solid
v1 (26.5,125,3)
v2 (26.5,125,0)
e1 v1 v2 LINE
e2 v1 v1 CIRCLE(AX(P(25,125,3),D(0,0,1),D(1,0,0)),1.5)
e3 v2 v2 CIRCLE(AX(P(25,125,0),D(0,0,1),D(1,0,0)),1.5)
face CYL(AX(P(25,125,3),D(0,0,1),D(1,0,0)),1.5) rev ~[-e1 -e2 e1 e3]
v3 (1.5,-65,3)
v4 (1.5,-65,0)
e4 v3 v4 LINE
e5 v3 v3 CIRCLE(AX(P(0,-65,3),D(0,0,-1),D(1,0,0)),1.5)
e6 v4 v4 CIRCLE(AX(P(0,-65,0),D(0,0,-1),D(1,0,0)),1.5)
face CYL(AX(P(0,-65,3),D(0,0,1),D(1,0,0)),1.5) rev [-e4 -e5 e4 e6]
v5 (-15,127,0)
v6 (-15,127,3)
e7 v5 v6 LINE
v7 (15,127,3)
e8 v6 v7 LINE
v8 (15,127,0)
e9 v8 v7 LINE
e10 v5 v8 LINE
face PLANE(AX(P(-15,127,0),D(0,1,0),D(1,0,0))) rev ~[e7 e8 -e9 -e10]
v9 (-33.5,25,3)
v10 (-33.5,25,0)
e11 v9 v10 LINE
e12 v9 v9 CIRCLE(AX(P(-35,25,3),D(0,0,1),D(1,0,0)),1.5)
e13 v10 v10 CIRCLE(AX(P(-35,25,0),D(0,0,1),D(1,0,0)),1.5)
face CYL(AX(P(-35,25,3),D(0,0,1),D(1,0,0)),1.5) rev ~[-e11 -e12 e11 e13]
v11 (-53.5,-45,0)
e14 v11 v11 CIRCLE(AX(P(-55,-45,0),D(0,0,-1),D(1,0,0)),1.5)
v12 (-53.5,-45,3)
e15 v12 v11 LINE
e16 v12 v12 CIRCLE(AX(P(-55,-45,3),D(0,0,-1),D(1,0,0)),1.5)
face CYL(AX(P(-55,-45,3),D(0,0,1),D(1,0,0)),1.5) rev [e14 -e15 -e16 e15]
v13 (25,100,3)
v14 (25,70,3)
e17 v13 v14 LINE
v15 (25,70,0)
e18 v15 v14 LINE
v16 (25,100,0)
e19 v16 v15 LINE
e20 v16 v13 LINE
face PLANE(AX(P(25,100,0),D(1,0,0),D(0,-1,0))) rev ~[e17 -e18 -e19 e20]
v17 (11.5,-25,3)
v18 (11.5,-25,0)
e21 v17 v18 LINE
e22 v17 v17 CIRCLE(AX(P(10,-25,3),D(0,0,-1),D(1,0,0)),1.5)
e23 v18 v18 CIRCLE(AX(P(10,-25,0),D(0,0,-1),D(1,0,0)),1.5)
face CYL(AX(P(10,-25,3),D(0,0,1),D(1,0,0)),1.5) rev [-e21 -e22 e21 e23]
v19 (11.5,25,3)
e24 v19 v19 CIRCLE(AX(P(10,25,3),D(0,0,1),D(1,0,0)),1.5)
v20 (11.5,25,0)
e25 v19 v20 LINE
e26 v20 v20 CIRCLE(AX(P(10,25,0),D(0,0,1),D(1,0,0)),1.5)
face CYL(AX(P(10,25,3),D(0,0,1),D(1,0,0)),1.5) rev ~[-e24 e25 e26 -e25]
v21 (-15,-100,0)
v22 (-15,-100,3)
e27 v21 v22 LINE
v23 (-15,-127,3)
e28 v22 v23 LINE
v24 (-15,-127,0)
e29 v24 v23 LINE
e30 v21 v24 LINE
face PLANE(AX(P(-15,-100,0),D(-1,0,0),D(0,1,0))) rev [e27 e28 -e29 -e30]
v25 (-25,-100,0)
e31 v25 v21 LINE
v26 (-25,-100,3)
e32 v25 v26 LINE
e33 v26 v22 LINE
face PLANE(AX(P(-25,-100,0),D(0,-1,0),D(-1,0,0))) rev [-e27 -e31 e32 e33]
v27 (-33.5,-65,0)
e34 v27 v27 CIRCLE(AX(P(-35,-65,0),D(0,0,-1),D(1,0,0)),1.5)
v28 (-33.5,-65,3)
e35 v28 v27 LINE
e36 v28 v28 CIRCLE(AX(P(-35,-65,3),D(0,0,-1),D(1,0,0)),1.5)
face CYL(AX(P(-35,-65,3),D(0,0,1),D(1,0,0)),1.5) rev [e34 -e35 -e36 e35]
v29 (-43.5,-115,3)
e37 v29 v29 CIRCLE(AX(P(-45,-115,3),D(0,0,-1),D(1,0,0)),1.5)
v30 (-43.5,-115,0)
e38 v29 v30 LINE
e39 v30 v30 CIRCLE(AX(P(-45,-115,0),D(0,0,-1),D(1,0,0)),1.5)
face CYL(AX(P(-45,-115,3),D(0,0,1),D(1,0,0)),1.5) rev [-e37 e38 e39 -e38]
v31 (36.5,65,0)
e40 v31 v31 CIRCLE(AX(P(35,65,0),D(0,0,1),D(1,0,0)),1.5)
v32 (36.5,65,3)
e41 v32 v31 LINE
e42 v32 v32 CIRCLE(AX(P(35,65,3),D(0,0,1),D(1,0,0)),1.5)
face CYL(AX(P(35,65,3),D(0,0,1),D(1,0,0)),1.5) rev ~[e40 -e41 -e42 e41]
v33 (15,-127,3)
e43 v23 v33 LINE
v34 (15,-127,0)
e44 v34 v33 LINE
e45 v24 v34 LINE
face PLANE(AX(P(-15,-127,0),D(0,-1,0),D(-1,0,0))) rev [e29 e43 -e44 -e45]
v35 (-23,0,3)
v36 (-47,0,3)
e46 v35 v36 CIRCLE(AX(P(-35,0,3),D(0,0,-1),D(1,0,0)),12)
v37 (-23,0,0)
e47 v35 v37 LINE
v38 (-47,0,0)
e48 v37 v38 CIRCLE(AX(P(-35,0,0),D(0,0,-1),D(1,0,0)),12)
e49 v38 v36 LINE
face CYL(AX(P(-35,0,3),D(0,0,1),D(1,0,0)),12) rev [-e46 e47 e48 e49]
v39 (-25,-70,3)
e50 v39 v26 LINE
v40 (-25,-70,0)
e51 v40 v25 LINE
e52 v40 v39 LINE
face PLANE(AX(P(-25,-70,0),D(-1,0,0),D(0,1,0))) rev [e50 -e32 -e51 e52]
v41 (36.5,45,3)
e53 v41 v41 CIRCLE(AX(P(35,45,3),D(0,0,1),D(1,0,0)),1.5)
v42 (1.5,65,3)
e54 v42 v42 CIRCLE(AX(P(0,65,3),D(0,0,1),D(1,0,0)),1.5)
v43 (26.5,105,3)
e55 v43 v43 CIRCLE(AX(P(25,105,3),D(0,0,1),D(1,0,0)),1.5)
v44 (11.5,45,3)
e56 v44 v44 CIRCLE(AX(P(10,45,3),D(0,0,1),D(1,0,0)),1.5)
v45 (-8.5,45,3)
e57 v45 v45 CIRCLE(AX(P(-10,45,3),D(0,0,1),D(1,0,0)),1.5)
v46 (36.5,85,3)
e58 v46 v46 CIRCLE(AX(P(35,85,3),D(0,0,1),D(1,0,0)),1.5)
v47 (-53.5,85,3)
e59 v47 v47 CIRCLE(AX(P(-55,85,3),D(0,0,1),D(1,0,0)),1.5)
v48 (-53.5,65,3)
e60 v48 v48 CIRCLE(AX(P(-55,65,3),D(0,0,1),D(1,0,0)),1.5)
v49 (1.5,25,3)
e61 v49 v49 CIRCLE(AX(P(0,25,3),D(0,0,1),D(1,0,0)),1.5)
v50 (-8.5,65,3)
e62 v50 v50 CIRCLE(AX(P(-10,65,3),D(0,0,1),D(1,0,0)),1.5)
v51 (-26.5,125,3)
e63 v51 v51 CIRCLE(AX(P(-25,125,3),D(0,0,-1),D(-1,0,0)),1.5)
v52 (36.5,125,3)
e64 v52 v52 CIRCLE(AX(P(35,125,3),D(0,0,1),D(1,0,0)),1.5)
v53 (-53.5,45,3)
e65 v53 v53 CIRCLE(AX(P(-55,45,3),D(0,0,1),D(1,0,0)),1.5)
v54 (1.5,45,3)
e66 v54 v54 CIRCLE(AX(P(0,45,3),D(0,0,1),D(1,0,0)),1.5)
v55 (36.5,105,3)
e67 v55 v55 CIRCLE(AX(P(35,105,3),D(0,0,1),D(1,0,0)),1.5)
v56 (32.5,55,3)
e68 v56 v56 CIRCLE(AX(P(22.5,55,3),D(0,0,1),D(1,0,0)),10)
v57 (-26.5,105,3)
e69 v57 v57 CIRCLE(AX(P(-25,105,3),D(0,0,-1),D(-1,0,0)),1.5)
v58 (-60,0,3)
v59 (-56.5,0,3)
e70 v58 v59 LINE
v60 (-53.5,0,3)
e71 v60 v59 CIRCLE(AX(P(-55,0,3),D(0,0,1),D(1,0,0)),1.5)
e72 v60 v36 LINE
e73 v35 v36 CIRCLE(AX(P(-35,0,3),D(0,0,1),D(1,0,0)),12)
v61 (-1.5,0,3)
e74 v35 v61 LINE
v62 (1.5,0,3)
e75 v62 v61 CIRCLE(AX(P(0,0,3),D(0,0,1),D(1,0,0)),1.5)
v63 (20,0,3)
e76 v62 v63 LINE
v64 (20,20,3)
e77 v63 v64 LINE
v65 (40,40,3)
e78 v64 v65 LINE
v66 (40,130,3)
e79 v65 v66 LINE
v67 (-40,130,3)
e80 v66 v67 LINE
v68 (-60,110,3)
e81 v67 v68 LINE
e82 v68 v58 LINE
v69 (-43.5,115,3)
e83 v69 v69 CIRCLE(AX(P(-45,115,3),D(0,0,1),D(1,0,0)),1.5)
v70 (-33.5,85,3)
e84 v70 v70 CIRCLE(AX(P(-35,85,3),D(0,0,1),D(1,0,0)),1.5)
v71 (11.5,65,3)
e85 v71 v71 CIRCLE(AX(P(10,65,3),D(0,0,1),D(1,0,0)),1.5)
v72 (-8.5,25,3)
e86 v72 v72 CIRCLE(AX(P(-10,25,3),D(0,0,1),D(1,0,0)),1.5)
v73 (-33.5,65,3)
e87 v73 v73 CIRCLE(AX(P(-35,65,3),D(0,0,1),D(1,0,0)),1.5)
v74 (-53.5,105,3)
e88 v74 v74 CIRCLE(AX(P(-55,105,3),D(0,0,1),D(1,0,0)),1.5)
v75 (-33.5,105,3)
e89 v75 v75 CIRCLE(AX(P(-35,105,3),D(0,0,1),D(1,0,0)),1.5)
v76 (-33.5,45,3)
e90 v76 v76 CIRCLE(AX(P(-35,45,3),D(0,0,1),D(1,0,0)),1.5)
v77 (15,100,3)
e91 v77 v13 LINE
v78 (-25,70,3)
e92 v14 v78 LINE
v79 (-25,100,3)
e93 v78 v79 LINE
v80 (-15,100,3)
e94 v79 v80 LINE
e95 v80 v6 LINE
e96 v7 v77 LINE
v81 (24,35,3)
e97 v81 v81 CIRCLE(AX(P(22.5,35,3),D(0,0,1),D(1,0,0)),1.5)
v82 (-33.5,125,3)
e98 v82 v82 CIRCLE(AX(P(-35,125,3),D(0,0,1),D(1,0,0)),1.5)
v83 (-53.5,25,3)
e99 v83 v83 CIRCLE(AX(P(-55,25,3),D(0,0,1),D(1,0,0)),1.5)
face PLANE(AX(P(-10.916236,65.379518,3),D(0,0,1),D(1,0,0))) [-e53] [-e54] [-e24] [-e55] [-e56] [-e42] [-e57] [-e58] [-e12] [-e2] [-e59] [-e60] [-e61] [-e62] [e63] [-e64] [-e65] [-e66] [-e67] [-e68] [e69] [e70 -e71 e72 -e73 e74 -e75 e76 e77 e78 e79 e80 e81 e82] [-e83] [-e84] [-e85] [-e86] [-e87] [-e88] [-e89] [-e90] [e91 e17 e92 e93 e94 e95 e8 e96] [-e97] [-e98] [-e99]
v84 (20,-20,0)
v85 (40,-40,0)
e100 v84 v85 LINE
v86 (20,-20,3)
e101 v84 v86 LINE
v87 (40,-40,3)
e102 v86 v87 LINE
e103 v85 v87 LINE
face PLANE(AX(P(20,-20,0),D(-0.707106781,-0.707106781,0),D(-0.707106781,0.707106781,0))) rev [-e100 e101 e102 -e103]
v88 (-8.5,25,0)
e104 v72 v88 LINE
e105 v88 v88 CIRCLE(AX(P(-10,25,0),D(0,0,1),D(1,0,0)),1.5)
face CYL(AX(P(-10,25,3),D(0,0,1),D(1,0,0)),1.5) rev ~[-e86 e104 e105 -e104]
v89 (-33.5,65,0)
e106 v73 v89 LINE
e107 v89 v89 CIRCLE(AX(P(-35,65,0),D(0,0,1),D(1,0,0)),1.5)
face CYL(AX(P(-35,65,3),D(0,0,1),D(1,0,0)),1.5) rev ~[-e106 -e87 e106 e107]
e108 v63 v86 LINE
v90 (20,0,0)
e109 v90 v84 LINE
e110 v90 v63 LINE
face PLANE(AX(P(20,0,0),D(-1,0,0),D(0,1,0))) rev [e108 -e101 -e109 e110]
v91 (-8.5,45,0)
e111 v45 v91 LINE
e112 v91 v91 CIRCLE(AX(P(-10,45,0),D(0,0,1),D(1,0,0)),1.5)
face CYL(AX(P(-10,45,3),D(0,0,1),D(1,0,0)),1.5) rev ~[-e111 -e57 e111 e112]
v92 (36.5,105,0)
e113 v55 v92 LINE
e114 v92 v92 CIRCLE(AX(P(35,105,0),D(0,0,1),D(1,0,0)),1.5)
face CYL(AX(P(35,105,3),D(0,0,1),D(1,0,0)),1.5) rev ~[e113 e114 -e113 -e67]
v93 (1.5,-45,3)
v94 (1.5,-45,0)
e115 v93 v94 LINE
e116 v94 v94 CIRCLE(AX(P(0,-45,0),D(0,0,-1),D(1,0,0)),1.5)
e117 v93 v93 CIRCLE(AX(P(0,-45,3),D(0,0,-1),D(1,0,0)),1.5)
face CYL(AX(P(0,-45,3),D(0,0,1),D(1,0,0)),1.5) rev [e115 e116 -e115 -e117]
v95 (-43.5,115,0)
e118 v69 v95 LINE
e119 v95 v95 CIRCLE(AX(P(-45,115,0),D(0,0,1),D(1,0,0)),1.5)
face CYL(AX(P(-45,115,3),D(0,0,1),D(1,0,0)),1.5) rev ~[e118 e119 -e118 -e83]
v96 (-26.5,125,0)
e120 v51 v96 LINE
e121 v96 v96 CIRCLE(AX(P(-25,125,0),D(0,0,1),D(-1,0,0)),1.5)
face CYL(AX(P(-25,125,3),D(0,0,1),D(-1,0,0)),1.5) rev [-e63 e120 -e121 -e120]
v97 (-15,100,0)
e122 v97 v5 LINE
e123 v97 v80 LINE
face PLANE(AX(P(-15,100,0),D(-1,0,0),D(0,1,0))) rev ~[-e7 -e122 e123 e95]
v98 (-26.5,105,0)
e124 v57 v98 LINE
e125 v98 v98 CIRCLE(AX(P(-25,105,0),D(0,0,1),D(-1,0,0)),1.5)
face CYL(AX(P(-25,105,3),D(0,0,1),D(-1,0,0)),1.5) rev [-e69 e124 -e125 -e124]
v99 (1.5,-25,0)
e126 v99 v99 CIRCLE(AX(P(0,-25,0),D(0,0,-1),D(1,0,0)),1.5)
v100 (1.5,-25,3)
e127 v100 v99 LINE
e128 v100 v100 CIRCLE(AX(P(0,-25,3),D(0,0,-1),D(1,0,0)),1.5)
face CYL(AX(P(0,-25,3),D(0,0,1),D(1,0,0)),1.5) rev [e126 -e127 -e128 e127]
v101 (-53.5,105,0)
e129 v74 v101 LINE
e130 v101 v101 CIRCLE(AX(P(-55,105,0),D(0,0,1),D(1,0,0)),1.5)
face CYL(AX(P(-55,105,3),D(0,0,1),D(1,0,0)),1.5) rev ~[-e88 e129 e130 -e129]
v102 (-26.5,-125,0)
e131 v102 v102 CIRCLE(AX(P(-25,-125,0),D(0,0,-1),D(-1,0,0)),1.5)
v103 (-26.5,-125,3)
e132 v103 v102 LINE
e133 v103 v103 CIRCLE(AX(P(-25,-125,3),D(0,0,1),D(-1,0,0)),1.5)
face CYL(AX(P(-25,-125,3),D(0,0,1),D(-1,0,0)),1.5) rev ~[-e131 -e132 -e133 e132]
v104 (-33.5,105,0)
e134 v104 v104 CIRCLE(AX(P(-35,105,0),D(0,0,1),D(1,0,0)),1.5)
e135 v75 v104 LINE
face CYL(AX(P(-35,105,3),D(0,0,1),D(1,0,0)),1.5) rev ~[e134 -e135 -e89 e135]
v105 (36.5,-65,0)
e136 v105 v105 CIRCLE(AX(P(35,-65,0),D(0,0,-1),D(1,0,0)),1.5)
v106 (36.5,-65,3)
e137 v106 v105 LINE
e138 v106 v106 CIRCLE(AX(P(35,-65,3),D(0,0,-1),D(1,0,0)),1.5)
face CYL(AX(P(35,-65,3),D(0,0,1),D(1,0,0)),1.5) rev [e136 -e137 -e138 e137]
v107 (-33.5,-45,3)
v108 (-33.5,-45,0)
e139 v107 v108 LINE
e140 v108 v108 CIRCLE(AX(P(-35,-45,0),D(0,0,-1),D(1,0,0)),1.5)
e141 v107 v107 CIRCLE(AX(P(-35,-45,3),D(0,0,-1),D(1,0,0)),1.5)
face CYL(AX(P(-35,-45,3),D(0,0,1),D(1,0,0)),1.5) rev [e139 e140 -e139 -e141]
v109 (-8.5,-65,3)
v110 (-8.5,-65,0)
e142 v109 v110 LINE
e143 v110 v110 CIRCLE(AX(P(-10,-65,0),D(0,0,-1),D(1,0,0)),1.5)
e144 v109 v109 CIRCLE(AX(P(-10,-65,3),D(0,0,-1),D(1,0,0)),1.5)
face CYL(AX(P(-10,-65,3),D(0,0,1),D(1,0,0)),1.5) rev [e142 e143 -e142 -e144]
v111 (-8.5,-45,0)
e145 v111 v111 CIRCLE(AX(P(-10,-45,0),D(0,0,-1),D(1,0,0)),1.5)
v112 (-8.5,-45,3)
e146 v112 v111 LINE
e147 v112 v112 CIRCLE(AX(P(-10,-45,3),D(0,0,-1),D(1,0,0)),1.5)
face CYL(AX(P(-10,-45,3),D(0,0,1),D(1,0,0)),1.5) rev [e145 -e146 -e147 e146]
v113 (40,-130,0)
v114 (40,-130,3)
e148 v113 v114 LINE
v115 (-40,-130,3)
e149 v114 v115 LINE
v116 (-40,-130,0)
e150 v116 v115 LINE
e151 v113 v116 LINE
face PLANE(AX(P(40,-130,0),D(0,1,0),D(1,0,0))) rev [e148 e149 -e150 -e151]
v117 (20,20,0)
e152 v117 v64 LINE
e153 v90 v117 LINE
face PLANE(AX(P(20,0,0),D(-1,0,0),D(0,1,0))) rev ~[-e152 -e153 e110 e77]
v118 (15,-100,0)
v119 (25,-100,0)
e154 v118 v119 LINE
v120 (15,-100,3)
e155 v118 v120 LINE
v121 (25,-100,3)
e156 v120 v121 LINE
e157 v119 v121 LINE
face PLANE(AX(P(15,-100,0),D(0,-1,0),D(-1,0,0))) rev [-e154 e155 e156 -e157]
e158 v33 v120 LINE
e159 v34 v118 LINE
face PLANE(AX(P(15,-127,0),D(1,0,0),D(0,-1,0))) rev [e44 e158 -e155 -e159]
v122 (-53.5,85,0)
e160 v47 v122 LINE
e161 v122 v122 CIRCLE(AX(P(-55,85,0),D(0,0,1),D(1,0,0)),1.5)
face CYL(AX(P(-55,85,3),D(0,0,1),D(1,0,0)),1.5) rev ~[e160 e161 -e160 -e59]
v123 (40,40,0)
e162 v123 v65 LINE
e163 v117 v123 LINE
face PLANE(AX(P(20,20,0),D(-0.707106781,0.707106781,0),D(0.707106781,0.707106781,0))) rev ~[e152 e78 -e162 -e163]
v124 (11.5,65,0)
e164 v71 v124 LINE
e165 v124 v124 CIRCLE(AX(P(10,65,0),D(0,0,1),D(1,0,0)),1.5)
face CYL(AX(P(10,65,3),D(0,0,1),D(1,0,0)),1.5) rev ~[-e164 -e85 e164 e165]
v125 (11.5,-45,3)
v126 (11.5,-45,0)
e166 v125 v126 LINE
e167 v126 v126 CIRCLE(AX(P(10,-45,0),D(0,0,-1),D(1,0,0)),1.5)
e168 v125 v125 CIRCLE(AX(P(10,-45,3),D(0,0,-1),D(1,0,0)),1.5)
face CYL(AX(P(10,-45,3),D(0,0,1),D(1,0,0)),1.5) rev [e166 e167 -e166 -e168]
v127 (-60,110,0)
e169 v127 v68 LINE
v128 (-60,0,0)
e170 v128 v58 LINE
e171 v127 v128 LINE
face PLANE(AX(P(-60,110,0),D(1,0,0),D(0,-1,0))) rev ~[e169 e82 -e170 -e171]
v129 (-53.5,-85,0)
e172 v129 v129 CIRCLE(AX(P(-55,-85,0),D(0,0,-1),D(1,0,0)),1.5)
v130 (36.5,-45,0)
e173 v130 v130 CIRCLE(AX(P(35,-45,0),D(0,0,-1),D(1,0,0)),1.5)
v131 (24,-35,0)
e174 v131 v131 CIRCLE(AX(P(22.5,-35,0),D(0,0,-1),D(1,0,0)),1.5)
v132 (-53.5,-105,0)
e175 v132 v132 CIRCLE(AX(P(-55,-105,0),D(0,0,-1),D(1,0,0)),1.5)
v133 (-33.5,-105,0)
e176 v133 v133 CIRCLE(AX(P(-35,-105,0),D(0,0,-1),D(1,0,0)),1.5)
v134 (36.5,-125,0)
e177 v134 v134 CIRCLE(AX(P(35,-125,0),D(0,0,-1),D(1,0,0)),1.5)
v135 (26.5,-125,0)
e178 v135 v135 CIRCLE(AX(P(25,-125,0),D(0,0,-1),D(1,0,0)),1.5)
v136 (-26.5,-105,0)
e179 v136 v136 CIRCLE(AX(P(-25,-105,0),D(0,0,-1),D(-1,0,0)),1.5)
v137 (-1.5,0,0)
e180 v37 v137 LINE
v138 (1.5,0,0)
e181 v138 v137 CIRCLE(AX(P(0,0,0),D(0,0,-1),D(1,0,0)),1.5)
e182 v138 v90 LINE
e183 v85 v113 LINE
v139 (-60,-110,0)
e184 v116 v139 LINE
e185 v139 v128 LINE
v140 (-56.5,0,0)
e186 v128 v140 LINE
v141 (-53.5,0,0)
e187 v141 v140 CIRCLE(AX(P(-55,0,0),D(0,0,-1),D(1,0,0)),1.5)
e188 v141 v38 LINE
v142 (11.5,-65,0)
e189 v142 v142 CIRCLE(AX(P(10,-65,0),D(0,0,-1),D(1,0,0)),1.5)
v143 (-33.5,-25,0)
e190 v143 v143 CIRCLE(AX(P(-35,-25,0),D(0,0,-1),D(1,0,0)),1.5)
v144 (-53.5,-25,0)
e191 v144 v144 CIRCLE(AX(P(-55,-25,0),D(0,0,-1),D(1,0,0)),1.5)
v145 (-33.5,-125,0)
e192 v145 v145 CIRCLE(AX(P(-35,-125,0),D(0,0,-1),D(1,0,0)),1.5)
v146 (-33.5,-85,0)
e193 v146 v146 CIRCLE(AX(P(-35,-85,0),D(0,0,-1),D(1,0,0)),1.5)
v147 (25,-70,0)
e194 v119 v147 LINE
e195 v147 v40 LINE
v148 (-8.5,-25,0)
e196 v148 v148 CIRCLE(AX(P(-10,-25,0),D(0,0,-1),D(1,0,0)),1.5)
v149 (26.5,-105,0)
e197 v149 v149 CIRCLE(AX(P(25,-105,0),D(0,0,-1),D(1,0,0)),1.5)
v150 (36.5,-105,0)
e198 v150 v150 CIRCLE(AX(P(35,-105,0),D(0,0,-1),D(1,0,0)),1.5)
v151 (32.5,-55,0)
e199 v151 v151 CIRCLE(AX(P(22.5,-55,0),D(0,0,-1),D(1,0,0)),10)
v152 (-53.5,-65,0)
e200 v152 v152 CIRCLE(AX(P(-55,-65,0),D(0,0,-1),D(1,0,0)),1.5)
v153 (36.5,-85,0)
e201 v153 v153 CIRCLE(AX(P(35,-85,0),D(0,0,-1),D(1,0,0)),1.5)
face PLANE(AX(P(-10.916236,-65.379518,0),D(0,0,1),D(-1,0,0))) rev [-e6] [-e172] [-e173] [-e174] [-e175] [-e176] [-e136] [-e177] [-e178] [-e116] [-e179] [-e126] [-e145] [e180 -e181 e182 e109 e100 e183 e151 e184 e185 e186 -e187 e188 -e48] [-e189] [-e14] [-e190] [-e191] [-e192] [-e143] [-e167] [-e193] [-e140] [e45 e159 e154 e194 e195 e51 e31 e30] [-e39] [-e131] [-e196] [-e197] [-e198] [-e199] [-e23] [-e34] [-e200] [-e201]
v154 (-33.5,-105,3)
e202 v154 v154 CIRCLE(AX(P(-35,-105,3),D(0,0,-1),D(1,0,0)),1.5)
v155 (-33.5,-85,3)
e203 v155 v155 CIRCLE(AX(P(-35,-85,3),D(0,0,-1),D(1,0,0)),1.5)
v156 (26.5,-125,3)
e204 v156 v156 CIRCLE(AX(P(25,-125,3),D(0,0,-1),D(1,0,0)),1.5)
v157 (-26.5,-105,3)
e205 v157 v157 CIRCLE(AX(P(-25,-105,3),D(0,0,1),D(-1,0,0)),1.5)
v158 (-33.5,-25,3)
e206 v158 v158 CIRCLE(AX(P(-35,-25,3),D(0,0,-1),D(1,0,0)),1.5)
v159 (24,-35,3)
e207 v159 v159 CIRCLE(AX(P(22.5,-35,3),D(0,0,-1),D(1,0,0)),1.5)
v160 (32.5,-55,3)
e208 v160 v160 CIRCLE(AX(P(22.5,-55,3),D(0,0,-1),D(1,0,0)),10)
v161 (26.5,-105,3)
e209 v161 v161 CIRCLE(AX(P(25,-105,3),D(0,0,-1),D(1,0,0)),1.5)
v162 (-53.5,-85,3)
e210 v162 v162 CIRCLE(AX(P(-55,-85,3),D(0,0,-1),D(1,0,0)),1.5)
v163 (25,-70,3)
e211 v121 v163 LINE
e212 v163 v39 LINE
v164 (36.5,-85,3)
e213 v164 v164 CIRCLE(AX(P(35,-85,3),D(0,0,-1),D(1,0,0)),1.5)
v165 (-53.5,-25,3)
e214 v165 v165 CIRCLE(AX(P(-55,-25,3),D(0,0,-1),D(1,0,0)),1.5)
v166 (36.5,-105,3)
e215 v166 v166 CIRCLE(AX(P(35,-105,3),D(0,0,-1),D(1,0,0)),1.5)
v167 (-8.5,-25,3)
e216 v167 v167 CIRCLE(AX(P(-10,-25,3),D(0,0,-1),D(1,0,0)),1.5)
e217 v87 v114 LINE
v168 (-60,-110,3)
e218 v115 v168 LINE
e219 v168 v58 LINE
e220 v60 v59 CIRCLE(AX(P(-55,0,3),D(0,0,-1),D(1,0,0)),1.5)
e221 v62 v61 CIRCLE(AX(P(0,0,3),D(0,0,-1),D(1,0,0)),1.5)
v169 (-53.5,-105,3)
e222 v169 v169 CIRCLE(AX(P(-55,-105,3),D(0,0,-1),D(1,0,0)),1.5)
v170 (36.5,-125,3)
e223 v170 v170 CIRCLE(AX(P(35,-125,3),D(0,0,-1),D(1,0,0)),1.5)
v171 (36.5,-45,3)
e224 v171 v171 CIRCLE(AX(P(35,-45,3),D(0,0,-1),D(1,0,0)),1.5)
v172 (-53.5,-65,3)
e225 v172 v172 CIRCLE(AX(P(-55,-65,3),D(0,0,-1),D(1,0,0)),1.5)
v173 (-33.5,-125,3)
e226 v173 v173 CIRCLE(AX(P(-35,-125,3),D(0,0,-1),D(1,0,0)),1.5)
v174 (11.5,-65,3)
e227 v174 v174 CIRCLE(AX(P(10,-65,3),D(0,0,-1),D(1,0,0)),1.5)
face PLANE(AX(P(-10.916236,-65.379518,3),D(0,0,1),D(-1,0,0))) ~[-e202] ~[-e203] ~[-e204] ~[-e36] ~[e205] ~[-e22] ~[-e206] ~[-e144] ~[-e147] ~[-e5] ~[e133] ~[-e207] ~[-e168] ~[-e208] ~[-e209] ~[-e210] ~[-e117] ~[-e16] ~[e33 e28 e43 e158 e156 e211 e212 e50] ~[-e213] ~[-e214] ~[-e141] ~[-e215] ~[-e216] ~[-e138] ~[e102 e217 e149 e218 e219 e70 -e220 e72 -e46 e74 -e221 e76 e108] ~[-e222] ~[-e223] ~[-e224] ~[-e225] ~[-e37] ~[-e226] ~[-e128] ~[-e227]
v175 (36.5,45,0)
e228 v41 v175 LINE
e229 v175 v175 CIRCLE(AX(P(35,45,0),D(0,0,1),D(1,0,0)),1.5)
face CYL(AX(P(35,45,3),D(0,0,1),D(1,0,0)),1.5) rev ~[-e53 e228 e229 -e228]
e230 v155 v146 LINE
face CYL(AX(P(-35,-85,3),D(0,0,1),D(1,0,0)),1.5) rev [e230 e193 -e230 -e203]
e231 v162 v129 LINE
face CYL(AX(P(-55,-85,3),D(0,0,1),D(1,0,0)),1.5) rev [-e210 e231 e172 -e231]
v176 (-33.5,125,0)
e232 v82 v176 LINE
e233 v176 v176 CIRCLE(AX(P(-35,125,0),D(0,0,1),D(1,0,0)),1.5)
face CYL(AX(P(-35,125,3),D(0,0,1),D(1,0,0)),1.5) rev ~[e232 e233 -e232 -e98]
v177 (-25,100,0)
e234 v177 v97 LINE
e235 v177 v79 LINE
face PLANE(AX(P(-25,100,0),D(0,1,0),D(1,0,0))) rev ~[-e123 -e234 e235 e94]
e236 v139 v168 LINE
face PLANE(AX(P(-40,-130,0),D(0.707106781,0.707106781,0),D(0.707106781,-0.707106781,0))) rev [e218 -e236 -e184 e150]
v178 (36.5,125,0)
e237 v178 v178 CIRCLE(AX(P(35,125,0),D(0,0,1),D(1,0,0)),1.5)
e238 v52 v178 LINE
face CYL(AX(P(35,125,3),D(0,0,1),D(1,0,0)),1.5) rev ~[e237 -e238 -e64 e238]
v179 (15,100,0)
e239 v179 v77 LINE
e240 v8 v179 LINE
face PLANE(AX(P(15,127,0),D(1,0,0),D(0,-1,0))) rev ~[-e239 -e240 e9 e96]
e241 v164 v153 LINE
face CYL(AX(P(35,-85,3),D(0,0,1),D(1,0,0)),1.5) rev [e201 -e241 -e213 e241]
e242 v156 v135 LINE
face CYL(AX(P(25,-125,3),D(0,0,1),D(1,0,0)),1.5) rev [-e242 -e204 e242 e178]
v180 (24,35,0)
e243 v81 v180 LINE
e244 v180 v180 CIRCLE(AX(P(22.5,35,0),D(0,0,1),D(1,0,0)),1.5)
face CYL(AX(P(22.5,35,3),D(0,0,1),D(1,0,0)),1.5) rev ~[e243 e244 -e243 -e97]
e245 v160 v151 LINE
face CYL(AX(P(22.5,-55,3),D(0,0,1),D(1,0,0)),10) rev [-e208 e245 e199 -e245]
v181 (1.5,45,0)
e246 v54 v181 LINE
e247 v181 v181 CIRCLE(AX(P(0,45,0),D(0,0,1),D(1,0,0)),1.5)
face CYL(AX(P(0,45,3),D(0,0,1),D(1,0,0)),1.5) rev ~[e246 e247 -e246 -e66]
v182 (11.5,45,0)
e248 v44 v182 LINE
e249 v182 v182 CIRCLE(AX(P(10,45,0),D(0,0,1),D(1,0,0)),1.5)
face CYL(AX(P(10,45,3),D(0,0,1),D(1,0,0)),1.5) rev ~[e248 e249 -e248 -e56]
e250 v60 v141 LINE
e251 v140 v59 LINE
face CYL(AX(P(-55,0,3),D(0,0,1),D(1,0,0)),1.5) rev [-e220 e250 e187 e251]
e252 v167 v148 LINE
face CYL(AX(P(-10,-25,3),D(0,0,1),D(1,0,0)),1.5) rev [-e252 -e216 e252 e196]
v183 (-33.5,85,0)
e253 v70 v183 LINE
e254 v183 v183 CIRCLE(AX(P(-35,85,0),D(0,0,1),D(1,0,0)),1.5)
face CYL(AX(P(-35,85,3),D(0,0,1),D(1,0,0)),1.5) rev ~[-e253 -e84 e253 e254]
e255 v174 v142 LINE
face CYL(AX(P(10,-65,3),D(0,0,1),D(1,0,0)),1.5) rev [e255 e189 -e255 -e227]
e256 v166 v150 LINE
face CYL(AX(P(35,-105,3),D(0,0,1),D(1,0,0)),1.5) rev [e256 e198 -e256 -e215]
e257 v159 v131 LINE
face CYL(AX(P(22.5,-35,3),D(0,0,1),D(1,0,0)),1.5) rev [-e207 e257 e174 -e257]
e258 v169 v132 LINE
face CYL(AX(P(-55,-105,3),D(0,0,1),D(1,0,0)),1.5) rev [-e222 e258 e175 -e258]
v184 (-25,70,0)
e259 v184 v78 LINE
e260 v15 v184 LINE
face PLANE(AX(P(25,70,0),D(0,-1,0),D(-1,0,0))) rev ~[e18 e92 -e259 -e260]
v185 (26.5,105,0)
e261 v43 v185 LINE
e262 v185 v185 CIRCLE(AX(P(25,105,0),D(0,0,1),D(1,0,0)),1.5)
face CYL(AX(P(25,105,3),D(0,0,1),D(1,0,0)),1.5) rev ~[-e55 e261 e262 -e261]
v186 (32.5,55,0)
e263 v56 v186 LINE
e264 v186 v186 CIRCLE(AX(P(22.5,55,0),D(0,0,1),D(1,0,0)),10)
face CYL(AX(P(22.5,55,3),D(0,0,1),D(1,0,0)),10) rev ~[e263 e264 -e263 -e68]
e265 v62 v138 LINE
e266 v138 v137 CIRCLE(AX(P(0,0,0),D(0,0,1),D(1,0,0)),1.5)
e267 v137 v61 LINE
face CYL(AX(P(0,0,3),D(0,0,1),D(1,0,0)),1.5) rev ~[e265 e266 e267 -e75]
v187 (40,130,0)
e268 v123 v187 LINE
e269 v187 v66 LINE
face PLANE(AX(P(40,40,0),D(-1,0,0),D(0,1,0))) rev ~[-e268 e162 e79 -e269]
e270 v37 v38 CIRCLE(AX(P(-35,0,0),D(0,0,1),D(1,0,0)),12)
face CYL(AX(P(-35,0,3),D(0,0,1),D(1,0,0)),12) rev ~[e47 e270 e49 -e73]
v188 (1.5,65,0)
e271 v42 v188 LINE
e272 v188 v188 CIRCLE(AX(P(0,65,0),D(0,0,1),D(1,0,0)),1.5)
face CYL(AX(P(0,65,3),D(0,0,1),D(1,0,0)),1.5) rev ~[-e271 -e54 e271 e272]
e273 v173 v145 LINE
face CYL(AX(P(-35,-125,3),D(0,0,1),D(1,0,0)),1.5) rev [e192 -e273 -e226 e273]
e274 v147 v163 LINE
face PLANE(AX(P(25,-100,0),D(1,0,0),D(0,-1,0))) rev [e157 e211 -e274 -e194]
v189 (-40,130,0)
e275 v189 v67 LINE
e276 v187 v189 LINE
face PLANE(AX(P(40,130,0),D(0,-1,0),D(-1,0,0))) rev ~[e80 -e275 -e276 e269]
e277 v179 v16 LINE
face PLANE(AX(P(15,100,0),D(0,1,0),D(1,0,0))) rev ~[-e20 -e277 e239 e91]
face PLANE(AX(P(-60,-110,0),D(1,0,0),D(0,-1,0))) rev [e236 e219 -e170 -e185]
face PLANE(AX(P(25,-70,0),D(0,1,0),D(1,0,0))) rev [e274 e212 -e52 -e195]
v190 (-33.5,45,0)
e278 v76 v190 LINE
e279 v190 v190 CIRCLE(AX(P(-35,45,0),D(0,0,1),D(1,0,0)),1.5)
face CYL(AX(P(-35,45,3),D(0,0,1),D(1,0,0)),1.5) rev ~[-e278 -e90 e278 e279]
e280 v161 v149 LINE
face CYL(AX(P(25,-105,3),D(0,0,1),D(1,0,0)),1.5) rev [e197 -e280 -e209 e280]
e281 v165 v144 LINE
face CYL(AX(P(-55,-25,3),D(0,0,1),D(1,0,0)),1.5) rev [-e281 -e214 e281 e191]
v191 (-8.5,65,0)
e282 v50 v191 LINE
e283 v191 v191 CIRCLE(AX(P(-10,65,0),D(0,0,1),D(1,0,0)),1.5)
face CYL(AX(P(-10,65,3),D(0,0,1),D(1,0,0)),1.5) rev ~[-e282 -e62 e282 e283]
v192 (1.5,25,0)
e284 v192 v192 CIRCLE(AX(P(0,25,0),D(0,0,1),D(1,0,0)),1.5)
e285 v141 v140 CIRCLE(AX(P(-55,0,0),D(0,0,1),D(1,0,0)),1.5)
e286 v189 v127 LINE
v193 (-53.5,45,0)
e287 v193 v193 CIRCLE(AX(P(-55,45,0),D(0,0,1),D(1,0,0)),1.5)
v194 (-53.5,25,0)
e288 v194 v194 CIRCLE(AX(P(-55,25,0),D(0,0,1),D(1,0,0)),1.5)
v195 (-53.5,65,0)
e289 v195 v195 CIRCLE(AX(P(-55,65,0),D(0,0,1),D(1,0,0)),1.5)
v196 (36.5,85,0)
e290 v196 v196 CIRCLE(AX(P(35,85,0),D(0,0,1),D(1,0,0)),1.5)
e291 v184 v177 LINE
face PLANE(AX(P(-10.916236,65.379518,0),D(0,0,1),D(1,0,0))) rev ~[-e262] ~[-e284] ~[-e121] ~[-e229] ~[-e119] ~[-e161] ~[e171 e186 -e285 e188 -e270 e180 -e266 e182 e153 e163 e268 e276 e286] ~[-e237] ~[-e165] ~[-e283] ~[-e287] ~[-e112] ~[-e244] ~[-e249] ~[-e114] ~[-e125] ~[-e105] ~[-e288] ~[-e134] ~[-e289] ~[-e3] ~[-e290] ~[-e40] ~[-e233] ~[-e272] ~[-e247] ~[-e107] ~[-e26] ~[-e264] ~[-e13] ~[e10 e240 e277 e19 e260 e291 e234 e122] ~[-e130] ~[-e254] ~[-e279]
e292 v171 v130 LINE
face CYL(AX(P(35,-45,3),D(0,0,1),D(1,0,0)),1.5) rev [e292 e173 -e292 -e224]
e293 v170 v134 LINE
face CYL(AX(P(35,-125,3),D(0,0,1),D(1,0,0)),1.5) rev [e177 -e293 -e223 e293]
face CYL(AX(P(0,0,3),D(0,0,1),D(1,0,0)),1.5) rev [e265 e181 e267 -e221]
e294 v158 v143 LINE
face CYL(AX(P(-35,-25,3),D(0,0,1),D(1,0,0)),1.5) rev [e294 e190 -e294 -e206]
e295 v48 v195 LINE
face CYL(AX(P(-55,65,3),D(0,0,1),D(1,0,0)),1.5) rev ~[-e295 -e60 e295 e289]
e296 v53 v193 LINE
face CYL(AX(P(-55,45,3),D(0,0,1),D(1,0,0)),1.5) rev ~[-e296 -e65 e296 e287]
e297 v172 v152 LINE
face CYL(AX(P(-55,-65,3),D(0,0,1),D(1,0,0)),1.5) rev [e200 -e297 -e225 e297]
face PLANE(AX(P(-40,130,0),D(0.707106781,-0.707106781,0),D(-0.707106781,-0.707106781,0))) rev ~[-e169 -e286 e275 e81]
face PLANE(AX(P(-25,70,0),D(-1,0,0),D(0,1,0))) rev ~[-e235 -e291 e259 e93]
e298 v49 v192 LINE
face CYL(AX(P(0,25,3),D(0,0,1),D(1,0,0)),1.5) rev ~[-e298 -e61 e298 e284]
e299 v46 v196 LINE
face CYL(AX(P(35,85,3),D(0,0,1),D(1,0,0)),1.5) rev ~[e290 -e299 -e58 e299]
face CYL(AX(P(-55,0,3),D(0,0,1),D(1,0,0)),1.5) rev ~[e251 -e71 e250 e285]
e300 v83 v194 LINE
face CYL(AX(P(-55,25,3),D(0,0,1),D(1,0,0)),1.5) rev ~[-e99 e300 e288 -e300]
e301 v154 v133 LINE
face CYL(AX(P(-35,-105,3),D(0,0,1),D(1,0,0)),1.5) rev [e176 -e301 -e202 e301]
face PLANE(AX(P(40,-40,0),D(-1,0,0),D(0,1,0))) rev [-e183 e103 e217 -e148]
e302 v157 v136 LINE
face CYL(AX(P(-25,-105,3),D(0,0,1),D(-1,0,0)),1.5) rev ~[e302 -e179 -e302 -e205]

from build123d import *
from build123d.topology import SkipClean

# Parameters (mm, degrees)
MAIN_DEPTH                      = 3
SKETCH2_R                       = 12
SKETCH2_R_2                     = 1.5
SKETCH2_R_3                     = 10
SINGLEHOLES_DEPTH               = 144.209636547
SKETCH3_R                       = 1.5
TOPLEFTHOLE_DEPTH               = 144.209636547
TOPLEFT2HOLELINEARPATTERN_COUNT = 6
TOPLEFT2HOLELINEARPATTERN_PITCH = 20
SKETCH4_R                       = 1.5
TOPLEFT1HOLE_DEPTH              = 144.209636547
TOPLEFT1HOLELINEARPATTERN_COUNT = 5
TOPLEFT1HOLELINEARPATTERN_PITCH = 20
SKETCH5_R                       = 1.5
TOPRIGHTHOLE_DEPTH              = 144.209636547
TOPRIGHTHOLELINEARPATTERN_COUNT = 5
TOPRIGHTHOLELINEARPATTERN_PITCH = 20
MOTORHOLEFIXSKETCH_R            = 1.5
MOTORHOLEFIX_DEPTH              = 144.209636547
MOTORHOLEFIXLINEARPATTERN_COUNT = 3
MOTORHOLEFIXLINEARPATTERN_PITCH = 20
SKETCH6_R                       = 1.5
CUT_EXTRUDE1_DEPTH              = 144.209636547


with BuildPart() as part:
    # Sketch1 → Main (new body)
    with BuildSketch(Plane.XY):
        Polygon((-60, 110), (-60, 0), (20, 0), (20, 20), (40, 40), (40, 130), (-40, 130), align=None)
        Polygon((-25, 100), (-15, 100), (-15, 127), (15, 127), (15, 100), (25, 100), (25, 70), (-25, 70), align=None, mode=Mode.SUBTRACT)
    extrude(amount=MAIN_DEPTH)

    # Sketch2 → SingleHoles (cut, through all)
    with BuildSketch(Plane.XY.offset(3)):
        with Locations((-35, 0)):
            Circle(SKETCH2_R)
        with Locations((-55, 0)):
            Circle(SKETCH2_R_2)
        with Locations((22.5, 55)):
            Circle(SKETCH2_R_3)
        Circle(SKETCH2_R_2)
        with Locations((-45, 115)):
            Circle(SKETCH2_R_2)
        with Locations((22.5, 35)):
            Circle(SKETCH2_R_2)
    extrude(amount=-SINGLEHOLES_DEPTH, mode=Mode.SUBTRACT)

    # Sketch3 → TopLeftHole (cut, through all)
    with BuildSketch(Plane.XY.offset(3)):
        with Locations((-35, 125)):
            Circle(SKETCH3_R)
    toplefthole = extrude(amount=-TOPLEFTHOLE_DEPTH, mode=Mode.SUBTRACT)

    # TopLeft2HoleLinearPattern: TopLeftHole ×6
    with Locations(*[(0, -i * TOPLEFT2HOLELINEARPATTERN_PITCH, 0) for i in range(1, TOPLEFT2HOLELINEARPATTERN_COUNT)]):
        add(toplefthole, mode=Mode.SUBTRACT)

    # Sketch4 → TopLeft1Hole (cut, through all)
    with BuildSketch(Plane.XY.offset(3)):
        with Locations((-35, 105)):
            Circle(SKETCH4_R)
        with Locations((-55, 105)):
            Circle(SKETCH4_R)
    topleft1hole = extrude(amount=-TOPLEFT1HOLE_DEPTH, mode=Mode.SUBTRACT)

    # TopLeft1HoleLinearPattern: TopLeft1Hole ×5
    with Locations(*[(0, -i * TOPLEFT1HOLELINEARPATTERN_PITCH, 0) for i in range(1, TOPLEFT1HOLELINEARPATTERN_COUNT)]):
        add(topleft1hole, mode=Mode.SUBTRACT)

    # Sketch5 → TopRightHole (cut, through all)
    with BuildSketch(Plane.XY.offset(3)):
        with Locations((35, 125)):
            Circle(SKETCH5_R)
    toprighthole = extrude(amount=-TOPRIGHTHOLE_DEPTH, mode=Mode.SUBTRACT)

    # TopRightHoleLinearPattern: TopRightHole ×5
    with Locations(*[(0, -i * TOPRIGHTHOLELINEARPATTERN_PITCH, 0) for i in range(1, TOPRIGHTHOLELINEARPATTERN_COUNT)]):
        add(toprighthole, mode=Mode.SUBTRACT)

    # MotorHoleFixSketch → MotorHoleFix (cut, through all)
    with BuildSketch(Plane.XY.offset(3)):
        with Locations((0, 65)):
            Circle(MOTORHOLEFIXSKETCH_R)
        with Locations((-10, 65)):
            Circle(MOTORHOLEFIXSKETCH_R)
        with Locations((10, 65)):
            Circle(MOTORHOLEFIXSKETCH_R)
    motorholefix = extrude(amount=-MOTORHOLEFIX_DEPTH, mode=Mode.SUBTRACT)

    # MotorHoleFixLinearPattern: MotorHoleFix ×3
    with Locations(*[(0, -i * MOTORHOLEFIXLINEARPATTERN_PITCH, 0) for i in range(1, MOTORHOLEFIXLINEARPATTERN_COUNT)]):
        add(motorholefix, mode=Mode.SUBTRACT)

    # Sketch6 → Cut-Extrude1 (cut, through all)
    with BuildSketch(Plane.XY.offset(3)):
        with Locations((25, 125)):
            Circle(SKETCH6_R)
        with Locations((25, 105)):
            Circle(SKETCH6_R)
    cut_extrude1 = extrude(amount=-CUT_EXTRUDE1_DEPTH, mode=Mode.SUBTRACT)

    # Mirror1: Cut-Extrude1 across plane
    add(cut_extrude1.mirror(Plane(origin=(0, 0, 0), x_dir=(0, 0, 1), z_dir=(1, 0, 0))), mode=Mode.SUBTRACT)

    # LeftRightMirror: part across plane


with BuildPart() as part_1:
    with SkipClean():  # the faces are left unmerged after this step: merging them gives an invalid solid
        add(part.part)
        add(part.part.mirror(Plane.ZX))


solid = part_1.part
